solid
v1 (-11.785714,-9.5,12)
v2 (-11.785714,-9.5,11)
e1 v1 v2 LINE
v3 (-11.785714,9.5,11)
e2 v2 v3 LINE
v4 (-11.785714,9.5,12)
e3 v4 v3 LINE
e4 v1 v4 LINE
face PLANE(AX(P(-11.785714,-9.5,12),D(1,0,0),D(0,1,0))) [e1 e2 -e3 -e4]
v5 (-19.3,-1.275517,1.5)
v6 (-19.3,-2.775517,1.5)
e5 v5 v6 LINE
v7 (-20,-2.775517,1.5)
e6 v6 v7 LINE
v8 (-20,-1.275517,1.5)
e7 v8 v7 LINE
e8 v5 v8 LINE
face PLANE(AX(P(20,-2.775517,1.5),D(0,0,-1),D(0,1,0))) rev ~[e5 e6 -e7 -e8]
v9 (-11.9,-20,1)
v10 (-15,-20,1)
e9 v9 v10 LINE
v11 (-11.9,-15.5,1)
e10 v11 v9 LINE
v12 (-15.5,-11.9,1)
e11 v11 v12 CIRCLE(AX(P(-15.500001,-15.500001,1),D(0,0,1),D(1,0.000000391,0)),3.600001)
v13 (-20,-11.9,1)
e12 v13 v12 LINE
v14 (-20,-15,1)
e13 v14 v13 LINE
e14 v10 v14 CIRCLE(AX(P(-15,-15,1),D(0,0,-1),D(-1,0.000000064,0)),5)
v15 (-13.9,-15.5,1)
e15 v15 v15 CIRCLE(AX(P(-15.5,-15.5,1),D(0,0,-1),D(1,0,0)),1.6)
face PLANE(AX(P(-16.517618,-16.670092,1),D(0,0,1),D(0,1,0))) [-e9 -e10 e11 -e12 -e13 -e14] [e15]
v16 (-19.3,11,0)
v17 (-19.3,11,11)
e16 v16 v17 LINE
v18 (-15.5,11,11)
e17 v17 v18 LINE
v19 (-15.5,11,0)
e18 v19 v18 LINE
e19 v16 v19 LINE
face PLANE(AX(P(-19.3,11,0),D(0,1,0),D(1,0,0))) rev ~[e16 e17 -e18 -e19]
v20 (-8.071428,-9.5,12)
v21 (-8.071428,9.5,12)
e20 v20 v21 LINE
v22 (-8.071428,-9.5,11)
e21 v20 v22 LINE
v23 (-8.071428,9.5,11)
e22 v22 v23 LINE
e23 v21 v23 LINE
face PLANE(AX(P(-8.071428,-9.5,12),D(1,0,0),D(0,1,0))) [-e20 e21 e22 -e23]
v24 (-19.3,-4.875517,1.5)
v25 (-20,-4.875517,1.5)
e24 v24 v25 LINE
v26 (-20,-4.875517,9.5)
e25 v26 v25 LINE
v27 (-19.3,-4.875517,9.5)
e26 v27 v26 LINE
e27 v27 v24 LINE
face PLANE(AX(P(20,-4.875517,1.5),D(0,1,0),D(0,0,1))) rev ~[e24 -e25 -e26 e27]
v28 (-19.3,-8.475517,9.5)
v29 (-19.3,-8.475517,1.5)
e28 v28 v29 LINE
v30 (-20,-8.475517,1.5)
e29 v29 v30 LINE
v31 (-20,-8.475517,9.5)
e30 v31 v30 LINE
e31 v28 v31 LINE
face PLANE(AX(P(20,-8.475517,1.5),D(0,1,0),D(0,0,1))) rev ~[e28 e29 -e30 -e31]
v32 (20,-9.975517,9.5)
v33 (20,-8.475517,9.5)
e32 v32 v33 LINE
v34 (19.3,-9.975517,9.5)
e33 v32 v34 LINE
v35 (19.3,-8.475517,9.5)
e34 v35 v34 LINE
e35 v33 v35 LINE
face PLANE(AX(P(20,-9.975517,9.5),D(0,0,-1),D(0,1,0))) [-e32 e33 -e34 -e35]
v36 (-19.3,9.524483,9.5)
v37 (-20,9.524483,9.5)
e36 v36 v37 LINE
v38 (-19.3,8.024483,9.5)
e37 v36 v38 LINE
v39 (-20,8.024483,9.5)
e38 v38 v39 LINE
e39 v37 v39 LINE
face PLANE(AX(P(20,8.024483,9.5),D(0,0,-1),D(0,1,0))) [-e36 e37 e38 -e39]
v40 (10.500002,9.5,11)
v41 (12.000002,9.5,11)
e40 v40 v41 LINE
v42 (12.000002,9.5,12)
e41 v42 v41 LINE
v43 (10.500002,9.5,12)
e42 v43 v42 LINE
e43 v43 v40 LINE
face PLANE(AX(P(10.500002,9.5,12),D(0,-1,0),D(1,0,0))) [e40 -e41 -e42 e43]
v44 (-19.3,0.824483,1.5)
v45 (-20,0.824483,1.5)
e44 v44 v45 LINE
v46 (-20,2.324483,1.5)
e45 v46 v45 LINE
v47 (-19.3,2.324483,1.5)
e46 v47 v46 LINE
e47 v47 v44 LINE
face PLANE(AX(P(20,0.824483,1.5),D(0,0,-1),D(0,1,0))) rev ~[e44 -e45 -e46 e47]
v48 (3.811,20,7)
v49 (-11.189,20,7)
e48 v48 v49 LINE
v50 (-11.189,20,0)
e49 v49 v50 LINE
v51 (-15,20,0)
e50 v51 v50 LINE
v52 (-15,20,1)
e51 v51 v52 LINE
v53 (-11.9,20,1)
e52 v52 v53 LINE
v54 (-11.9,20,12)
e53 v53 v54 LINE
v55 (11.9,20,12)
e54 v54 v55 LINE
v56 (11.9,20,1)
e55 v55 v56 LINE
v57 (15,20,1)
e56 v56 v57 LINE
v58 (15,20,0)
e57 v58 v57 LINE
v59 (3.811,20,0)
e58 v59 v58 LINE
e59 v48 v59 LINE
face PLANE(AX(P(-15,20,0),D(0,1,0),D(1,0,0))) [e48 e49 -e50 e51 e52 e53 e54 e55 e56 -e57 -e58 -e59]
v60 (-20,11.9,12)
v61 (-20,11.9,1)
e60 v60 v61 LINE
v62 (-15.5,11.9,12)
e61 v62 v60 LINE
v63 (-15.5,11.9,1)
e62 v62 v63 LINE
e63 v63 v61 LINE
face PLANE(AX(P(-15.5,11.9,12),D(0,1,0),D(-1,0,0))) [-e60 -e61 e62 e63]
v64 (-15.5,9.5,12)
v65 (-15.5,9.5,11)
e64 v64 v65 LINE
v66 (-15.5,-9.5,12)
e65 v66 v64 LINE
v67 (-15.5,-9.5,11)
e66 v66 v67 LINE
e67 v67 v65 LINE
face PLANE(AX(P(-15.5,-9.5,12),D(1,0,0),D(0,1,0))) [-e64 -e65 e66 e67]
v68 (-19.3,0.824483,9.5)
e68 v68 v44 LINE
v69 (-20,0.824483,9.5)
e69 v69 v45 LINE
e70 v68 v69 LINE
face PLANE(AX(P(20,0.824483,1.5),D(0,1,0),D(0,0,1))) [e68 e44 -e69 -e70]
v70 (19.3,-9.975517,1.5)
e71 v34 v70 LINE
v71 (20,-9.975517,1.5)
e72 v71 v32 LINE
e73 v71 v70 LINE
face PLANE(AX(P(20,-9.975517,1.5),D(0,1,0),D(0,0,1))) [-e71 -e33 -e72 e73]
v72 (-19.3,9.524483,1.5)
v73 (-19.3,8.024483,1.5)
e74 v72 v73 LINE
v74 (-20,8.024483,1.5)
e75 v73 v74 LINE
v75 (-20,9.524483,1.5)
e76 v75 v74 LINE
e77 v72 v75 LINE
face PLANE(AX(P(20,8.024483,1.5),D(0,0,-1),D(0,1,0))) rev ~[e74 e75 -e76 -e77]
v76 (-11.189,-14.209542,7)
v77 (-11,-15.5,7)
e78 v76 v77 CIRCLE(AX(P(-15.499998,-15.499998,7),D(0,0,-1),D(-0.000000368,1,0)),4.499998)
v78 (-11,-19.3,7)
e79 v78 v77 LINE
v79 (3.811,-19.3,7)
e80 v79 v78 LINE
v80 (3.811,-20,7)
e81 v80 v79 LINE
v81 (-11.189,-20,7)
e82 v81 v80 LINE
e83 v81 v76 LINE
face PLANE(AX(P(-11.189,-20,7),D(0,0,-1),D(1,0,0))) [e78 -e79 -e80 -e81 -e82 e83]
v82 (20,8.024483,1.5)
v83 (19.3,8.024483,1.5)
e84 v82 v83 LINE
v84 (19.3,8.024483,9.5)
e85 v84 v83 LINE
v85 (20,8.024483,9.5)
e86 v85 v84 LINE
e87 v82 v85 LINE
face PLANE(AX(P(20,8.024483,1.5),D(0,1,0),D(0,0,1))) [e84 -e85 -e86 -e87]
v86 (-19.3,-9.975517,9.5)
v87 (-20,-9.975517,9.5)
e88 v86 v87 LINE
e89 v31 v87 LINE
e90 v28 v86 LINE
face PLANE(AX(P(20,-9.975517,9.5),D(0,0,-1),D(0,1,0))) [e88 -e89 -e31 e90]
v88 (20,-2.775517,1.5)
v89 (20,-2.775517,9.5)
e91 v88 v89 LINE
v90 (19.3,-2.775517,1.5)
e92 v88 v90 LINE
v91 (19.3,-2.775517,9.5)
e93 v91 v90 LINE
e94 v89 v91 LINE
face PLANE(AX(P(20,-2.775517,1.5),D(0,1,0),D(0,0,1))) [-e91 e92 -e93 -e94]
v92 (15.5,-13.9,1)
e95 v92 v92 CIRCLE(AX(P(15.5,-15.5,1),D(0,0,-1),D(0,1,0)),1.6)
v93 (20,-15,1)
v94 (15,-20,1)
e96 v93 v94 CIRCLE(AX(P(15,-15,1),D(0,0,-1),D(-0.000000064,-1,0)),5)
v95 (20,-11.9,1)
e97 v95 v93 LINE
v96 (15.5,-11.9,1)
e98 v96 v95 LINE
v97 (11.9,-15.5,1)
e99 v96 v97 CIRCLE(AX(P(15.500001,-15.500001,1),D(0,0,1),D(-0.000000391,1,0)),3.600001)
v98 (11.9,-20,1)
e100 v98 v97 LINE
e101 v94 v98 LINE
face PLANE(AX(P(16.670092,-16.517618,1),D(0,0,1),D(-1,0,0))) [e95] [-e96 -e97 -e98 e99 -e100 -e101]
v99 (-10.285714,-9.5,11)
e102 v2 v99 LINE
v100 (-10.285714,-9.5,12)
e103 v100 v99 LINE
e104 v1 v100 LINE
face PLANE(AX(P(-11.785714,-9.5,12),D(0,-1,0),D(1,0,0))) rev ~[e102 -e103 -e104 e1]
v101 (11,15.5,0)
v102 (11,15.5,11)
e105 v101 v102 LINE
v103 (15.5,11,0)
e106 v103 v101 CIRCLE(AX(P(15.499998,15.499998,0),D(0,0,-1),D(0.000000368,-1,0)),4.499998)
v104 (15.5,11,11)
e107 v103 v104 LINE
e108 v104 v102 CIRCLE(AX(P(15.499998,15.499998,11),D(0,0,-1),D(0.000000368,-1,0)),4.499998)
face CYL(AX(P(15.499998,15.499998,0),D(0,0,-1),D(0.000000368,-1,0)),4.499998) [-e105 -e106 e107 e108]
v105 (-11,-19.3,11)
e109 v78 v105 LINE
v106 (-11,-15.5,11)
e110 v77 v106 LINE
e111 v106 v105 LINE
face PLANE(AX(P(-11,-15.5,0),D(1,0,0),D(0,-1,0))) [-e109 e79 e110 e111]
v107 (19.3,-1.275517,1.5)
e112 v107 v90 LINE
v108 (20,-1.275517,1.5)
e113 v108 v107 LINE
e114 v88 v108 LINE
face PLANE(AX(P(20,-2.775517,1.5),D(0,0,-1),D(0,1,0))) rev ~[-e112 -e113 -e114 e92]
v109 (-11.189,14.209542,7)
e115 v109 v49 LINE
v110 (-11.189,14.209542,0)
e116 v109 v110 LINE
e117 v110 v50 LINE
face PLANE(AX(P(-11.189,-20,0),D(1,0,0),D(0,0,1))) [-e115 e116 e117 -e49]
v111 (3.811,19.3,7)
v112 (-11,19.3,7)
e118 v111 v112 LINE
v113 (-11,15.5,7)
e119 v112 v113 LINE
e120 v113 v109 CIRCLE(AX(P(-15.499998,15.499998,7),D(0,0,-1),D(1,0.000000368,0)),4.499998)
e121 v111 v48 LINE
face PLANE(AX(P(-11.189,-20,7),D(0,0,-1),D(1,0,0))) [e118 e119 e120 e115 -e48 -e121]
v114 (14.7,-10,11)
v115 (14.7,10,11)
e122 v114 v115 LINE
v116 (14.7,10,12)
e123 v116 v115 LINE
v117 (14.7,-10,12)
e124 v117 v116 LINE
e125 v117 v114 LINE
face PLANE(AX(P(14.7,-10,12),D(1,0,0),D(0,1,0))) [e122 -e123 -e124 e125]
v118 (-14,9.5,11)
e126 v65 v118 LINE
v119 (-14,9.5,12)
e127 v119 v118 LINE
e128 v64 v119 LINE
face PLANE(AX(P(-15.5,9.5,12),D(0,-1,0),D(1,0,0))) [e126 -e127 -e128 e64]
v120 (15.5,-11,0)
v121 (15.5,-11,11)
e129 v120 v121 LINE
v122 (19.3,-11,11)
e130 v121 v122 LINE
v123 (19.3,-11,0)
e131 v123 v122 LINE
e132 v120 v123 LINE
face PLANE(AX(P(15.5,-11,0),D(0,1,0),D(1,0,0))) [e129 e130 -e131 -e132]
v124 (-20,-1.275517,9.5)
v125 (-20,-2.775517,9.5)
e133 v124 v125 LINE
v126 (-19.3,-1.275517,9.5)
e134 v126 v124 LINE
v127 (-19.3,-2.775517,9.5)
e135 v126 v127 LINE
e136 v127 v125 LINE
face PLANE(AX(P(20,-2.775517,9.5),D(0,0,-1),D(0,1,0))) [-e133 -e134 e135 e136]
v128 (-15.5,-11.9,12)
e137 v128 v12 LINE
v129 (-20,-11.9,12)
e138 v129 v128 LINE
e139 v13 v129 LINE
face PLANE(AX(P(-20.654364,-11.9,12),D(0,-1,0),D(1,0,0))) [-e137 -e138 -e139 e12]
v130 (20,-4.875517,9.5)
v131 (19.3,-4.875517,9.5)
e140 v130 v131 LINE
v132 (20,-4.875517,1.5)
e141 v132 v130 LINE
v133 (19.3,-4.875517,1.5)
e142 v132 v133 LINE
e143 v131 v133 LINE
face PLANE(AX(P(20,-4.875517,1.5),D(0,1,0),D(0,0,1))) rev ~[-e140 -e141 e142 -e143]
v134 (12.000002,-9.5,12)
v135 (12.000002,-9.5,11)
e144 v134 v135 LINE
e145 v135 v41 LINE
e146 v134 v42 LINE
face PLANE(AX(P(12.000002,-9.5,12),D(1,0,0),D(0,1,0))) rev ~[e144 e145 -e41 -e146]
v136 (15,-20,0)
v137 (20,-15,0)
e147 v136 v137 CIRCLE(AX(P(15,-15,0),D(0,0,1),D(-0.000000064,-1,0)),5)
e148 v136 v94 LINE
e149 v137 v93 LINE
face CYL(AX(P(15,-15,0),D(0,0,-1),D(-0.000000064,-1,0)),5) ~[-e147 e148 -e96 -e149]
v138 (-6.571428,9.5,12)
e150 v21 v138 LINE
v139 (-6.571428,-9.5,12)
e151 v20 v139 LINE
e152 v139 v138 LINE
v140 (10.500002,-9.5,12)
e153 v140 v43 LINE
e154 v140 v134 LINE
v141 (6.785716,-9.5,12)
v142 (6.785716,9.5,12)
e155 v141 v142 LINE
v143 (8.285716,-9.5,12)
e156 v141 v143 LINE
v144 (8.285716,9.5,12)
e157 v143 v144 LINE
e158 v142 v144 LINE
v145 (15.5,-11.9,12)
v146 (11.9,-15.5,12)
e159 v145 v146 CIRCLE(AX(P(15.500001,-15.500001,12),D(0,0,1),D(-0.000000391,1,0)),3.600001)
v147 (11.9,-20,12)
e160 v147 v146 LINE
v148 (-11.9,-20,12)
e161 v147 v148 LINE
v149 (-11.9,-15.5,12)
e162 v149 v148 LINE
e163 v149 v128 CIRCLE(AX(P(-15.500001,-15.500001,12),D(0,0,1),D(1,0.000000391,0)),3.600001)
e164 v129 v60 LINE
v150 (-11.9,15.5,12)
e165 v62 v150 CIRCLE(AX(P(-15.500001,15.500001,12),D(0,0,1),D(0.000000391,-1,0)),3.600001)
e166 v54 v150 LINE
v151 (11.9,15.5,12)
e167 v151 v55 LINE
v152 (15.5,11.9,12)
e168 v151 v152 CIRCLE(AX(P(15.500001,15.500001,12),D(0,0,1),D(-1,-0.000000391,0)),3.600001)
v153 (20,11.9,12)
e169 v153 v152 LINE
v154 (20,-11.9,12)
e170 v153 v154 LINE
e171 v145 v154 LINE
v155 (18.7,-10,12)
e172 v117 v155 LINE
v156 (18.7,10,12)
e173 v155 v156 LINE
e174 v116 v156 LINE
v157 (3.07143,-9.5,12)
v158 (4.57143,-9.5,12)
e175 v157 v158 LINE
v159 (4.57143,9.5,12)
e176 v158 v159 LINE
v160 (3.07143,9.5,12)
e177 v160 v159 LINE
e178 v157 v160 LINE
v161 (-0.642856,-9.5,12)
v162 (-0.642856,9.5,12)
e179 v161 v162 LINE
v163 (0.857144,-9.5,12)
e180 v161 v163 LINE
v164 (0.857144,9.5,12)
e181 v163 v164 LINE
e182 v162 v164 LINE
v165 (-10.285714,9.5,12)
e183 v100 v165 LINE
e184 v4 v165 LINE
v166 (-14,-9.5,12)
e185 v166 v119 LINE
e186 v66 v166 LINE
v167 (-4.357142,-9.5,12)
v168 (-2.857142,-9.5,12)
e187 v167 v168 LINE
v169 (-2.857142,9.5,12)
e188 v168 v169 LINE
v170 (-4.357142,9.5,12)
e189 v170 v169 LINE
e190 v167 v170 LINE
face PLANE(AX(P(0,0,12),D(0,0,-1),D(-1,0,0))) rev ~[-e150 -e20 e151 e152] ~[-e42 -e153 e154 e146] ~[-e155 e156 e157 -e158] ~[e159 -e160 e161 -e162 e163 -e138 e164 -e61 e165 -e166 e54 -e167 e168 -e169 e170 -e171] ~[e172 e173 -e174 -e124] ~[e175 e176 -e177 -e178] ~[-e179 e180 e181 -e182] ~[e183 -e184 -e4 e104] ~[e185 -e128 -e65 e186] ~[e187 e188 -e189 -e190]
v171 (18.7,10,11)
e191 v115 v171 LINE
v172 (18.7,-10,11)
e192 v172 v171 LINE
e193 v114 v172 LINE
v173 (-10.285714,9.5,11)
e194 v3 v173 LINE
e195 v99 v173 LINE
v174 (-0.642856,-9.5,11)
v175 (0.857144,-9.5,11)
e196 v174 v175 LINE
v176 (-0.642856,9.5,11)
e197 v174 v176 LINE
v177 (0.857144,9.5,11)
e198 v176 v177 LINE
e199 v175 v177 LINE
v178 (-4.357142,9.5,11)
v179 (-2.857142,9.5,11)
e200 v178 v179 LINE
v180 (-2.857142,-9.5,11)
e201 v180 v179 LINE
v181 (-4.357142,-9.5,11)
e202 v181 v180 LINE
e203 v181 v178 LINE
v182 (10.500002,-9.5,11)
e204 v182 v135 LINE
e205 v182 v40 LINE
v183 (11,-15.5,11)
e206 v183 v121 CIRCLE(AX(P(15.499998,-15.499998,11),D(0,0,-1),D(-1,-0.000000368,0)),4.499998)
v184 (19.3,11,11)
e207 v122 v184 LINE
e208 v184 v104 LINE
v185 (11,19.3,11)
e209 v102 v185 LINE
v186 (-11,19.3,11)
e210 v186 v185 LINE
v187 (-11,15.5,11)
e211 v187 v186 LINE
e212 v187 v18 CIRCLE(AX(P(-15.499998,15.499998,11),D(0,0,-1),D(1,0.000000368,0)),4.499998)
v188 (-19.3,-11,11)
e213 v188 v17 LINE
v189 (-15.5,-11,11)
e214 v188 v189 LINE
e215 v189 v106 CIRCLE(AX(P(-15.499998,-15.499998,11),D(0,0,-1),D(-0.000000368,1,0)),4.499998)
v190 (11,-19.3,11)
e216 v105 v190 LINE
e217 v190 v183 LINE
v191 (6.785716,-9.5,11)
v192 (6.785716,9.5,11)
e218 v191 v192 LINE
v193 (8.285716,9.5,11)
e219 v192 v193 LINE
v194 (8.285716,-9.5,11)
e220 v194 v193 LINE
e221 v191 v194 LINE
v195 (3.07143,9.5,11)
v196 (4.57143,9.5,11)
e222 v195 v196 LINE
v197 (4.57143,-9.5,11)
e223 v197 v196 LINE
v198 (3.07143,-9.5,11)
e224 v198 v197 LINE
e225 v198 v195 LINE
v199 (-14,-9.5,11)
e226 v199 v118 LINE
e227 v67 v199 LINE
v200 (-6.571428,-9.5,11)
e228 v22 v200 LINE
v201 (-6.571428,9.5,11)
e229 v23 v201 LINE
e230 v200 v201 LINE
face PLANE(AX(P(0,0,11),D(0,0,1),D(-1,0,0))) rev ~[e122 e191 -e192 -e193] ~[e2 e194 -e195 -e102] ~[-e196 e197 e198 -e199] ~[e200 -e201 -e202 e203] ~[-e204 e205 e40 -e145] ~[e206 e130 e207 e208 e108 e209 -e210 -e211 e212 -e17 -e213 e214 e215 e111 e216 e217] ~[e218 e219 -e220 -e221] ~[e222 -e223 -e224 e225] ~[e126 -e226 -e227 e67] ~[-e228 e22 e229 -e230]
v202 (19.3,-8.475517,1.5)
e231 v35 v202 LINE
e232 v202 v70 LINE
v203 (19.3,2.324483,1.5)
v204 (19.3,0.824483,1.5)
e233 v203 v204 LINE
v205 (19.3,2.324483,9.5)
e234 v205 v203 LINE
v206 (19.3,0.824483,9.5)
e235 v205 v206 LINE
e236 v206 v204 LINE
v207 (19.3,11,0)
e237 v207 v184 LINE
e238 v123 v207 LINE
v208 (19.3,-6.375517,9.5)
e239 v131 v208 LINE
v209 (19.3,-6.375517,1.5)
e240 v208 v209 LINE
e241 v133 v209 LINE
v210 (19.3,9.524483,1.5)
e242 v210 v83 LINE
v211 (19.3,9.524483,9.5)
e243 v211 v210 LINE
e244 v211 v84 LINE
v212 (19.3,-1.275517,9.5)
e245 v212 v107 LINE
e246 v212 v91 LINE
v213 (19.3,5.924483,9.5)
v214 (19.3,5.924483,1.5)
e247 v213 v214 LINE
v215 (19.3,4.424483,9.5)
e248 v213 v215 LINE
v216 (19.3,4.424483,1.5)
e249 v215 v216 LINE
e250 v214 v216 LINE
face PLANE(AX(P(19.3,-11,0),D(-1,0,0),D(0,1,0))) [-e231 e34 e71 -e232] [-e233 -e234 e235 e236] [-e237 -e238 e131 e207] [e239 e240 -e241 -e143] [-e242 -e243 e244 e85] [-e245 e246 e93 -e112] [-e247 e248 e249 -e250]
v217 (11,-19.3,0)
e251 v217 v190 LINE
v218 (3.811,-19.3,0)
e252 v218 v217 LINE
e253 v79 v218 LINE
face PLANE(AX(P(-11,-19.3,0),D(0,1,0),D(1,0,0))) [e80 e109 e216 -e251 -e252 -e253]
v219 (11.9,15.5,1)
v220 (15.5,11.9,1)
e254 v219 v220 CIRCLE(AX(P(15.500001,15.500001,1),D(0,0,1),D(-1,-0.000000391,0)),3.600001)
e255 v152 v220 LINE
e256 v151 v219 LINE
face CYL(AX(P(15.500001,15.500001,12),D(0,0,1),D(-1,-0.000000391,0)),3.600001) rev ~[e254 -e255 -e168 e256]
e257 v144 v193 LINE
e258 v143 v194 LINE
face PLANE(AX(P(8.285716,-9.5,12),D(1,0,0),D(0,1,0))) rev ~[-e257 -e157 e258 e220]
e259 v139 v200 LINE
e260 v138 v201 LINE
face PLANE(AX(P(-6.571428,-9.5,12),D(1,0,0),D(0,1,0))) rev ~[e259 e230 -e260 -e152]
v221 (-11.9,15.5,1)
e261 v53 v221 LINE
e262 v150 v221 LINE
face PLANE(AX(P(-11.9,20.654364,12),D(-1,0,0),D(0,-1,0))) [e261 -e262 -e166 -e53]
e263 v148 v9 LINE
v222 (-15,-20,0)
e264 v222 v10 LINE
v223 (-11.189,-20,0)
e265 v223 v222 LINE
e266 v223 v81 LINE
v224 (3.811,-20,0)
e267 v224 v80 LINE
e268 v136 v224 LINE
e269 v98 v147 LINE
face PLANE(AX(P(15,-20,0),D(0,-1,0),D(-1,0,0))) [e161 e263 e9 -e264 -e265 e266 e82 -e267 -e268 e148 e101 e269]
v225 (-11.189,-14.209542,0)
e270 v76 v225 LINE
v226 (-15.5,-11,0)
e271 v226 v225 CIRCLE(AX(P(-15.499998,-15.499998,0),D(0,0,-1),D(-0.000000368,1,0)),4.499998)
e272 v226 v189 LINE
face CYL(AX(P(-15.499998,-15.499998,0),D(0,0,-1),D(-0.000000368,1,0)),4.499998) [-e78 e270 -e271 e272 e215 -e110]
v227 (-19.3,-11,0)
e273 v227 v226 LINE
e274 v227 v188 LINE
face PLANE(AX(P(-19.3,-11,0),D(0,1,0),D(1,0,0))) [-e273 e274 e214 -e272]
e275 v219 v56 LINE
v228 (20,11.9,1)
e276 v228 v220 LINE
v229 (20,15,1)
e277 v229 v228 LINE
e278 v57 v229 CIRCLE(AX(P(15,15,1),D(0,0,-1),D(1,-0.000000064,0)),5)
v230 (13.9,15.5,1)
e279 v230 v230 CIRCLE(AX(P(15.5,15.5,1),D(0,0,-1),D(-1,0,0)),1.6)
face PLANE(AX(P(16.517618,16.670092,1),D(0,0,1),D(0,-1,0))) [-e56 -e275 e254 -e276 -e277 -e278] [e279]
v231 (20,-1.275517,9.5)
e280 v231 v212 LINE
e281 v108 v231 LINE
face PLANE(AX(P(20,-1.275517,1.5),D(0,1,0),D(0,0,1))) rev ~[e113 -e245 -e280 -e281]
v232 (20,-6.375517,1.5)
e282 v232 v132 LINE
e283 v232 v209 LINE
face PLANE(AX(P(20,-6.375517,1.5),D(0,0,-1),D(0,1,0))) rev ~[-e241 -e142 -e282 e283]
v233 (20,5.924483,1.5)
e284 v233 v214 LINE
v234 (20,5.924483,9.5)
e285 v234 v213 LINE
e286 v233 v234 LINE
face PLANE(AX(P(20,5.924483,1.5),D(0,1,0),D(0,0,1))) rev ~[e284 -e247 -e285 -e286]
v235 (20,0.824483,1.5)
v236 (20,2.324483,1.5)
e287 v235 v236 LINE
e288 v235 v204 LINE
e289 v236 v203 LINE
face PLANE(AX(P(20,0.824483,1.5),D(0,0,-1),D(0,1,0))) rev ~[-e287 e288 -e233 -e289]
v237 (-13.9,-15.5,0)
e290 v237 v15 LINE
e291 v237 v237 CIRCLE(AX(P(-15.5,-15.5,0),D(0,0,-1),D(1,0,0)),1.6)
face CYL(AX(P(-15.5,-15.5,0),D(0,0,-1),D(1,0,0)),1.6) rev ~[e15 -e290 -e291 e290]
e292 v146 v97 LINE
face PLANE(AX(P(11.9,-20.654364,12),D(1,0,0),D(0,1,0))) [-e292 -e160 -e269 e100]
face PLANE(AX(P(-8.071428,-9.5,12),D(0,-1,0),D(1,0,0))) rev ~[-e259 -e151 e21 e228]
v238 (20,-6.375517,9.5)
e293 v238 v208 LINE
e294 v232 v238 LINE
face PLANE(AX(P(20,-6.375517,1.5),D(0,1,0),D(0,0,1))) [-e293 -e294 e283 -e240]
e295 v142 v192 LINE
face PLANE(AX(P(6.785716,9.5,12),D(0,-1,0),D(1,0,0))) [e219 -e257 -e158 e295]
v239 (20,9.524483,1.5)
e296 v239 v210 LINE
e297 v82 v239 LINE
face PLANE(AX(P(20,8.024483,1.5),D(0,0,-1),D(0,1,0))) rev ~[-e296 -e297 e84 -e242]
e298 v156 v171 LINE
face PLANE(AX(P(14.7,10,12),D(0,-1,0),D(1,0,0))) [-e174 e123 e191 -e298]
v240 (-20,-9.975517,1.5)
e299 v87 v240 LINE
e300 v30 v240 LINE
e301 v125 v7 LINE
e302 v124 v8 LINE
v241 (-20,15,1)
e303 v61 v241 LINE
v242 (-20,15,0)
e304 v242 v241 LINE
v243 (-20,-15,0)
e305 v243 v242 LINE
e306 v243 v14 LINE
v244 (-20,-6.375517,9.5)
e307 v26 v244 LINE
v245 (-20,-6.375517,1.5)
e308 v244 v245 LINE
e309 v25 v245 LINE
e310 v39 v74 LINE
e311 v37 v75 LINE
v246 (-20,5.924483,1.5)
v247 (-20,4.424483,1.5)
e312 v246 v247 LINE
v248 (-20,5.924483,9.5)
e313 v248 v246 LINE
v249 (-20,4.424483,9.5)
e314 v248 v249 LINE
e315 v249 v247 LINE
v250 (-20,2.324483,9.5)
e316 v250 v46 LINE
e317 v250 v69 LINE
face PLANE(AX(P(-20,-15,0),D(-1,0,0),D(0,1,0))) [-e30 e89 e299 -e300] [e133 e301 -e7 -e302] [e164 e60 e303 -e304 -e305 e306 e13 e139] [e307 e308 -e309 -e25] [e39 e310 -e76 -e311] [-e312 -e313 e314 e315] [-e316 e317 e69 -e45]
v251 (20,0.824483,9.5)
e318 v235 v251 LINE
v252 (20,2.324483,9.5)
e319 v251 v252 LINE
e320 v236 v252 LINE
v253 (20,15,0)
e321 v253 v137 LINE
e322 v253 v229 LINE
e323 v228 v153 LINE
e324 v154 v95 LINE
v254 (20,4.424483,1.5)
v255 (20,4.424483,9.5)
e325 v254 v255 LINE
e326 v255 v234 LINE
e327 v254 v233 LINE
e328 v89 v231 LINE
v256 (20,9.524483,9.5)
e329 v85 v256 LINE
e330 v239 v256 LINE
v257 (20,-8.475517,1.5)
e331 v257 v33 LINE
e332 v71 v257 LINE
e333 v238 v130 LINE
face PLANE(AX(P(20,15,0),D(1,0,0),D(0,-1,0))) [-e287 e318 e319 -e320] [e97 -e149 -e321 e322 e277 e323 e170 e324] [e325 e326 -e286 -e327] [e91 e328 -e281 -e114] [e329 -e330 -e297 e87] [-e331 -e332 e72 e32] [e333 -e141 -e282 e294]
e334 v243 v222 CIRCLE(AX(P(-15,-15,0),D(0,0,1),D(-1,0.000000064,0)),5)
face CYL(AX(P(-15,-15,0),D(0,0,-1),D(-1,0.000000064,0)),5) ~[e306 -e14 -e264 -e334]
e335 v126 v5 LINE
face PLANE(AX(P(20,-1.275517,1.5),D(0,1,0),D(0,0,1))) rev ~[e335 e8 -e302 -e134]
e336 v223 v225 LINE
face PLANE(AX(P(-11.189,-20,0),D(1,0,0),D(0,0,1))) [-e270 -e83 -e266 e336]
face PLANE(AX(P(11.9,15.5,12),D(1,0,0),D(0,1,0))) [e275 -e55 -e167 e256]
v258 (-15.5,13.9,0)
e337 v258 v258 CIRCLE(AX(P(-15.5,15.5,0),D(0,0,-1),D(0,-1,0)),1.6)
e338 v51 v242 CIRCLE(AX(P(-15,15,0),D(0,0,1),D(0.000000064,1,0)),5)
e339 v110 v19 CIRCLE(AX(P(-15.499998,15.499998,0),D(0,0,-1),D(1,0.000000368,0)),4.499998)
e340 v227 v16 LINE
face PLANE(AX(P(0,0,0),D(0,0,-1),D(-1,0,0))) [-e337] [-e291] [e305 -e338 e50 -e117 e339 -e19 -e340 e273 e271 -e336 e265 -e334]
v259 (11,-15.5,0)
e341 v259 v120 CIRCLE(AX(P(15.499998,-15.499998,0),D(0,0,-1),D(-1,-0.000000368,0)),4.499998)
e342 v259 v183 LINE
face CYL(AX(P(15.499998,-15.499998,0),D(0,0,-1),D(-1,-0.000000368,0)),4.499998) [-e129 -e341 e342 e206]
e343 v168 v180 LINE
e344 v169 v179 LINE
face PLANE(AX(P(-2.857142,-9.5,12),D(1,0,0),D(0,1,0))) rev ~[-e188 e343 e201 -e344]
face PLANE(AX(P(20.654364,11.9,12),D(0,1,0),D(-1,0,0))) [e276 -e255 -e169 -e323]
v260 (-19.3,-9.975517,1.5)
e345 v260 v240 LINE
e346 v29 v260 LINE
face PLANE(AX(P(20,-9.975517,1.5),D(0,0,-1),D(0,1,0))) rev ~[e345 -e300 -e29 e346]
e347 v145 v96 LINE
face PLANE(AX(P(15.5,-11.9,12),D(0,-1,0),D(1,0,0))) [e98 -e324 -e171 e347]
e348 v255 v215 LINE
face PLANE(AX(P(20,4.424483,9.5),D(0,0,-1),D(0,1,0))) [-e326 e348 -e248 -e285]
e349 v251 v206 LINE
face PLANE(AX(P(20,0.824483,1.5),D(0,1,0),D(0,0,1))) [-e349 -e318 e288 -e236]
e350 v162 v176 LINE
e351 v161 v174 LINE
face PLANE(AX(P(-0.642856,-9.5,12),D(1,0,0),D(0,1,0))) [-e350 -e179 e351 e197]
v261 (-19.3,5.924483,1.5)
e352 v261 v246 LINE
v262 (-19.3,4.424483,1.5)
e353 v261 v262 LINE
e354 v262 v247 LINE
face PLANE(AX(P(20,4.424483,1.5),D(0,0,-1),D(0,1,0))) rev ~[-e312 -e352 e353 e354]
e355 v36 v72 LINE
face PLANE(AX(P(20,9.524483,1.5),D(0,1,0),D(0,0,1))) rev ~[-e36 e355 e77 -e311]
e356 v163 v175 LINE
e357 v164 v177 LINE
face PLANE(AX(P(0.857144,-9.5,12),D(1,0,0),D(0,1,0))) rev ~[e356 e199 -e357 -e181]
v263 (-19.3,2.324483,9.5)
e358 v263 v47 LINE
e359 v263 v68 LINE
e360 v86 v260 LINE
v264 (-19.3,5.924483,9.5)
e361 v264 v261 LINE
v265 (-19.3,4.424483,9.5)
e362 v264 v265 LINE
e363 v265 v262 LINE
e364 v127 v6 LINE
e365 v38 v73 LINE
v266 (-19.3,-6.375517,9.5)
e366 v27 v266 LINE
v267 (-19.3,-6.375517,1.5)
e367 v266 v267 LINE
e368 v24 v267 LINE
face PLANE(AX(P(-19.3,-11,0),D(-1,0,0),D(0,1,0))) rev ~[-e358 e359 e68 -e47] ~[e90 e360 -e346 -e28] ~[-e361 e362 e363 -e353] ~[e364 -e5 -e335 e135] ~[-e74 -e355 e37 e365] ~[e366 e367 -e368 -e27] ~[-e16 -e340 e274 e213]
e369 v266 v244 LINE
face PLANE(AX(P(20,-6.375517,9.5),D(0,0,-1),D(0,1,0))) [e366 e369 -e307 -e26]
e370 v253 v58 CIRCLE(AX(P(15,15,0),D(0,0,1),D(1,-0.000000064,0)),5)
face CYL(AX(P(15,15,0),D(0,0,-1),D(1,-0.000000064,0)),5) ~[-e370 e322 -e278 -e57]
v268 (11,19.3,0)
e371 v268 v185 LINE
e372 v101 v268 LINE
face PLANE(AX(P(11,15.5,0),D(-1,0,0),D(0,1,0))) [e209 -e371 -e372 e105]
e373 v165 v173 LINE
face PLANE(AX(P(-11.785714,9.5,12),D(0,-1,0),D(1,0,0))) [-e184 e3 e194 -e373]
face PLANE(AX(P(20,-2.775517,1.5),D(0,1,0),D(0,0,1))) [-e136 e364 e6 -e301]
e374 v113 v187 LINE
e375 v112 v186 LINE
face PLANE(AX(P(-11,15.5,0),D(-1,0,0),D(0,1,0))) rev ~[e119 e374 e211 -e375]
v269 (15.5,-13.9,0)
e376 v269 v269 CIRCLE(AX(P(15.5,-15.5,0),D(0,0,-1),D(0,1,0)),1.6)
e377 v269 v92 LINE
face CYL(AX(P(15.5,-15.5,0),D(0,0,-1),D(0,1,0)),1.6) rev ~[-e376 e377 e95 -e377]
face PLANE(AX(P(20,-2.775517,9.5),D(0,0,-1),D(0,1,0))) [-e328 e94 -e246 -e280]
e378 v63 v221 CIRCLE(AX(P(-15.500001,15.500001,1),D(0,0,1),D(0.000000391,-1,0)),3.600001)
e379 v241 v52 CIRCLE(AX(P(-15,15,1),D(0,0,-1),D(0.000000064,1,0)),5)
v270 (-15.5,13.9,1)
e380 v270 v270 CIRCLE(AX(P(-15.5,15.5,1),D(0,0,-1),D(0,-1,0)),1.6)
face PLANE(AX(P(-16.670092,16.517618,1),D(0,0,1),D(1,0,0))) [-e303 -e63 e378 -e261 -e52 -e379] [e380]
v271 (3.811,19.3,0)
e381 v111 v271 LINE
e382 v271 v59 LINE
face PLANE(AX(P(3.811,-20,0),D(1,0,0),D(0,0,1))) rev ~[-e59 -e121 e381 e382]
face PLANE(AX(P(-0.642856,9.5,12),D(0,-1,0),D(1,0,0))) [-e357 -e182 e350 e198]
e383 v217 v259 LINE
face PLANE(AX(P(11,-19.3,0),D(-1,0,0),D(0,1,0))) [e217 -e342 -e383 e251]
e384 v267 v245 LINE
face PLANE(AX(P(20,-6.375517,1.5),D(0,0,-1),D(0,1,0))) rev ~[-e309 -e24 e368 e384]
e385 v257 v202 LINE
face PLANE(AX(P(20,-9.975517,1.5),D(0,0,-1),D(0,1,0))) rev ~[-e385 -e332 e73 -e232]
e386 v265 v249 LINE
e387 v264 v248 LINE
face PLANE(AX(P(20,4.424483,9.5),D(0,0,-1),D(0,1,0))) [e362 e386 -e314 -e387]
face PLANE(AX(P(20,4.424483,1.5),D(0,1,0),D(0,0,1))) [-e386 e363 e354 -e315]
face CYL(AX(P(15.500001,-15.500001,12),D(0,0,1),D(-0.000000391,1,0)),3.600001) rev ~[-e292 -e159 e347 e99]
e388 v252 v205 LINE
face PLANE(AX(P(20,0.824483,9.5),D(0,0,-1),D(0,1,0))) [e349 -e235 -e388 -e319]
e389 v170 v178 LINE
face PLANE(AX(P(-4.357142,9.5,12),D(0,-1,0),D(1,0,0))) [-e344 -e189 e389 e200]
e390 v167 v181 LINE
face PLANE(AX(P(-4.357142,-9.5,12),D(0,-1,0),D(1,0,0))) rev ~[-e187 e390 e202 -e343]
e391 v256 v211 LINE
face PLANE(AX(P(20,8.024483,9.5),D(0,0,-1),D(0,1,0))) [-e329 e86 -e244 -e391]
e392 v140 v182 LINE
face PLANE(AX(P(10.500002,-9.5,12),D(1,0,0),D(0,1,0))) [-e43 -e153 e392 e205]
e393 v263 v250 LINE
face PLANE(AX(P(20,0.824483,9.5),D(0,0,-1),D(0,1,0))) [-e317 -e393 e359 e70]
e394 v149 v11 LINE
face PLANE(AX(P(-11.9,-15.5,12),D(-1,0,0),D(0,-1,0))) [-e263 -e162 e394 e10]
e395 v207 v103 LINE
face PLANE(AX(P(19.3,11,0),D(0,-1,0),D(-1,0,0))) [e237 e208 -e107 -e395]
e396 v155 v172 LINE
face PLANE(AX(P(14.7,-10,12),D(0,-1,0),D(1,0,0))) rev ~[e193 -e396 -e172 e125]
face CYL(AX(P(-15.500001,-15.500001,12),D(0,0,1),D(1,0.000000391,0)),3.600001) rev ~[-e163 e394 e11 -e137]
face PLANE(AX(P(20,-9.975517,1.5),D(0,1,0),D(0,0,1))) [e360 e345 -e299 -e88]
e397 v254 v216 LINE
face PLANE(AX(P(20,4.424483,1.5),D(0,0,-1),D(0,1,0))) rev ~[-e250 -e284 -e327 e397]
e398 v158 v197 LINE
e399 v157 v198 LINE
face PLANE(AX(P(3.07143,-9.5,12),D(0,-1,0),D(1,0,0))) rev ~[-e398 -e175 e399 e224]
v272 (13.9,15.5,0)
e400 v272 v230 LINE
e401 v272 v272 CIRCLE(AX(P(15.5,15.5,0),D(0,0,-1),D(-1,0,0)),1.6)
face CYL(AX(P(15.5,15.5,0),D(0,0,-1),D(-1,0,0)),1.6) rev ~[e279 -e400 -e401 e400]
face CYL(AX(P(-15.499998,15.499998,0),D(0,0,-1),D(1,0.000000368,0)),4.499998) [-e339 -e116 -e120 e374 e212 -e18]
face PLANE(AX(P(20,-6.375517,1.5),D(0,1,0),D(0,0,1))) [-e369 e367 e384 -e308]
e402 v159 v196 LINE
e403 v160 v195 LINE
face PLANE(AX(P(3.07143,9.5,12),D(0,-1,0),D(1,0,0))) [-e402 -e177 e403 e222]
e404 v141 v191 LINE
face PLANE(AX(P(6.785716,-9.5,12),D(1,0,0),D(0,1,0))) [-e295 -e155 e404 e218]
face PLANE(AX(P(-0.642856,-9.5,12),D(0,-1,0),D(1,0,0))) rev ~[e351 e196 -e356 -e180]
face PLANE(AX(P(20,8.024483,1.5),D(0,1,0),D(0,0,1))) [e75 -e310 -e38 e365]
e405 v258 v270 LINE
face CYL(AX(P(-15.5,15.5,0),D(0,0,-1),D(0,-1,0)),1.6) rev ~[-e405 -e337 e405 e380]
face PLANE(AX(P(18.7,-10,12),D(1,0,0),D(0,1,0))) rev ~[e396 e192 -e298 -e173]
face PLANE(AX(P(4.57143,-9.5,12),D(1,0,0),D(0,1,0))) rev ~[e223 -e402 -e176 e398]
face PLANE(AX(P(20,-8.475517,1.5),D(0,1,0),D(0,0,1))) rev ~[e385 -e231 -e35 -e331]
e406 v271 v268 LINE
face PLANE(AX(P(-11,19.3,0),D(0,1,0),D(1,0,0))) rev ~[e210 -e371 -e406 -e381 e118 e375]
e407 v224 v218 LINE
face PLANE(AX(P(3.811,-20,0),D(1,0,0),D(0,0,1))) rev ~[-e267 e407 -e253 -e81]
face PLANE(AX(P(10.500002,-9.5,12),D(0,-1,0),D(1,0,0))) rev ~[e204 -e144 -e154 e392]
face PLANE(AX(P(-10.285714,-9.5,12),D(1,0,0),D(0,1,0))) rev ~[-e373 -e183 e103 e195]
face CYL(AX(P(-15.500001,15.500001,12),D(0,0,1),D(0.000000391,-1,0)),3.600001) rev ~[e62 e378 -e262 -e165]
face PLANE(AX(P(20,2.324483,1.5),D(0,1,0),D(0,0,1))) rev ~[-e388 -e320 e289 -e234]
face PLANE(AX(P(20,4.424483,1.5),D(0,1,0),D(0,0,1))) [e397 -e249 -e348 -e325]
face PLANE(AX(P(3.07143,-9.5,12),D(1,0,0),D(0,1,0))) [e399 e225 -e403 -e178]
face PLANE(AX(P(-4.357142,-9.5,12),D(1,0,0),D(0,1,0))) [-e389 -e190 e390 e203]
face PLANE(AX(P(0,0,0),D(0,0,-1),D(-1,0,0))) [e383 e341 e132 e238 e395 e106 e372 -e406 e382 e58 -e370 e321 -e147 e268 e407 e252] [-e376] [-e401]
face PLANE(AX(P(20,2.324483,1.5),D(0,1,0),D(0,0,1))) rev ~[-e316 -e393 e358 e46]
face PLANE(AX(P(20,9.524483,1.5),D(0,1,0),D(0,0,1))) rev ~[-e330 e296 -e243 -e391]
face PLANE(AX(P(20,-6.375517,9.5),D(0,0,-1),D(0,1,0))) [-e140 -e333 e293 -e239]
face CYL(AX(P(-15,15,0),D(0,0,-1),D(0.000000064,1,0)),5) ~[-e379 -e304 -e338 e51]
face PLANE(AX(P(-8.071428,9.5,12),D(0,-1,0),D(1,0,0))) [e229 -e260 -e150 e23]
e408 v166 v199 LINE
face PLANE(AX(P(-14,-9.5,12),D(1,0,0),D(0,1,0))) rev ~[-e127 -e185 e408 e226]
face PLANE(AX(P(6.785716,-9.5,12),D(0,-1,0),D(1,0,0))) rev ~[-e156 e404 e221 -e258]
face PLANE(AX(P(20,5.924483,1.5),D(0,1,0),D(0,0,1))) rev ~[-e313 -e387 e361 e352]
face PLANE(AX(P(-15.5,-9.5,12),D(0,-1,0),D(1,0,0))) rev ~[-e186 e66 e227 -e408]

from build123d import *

# Parameters (mm, degrees)
PAD_DEPTH              = 12
POCKET_DEPTH           = 11
POCKET001_DEPTH        = 11
POLARPATTERN_COUNT     = 4
SKETCH003_R            = 1.6
POCKET002_DEPTH        = 127.655658
POLARPATTERN001_COUNT  = 4
SKETCH004_W            = 4
SKETCH004_H            = 20
POCKET003_DEPTH        = 12.001
SKETCH005_W            = 15
SKETCH005_H            = 7
POCKET004_DEPTH        = 40.001
SKETCH006_W            = 1.5
SKETCH006_H            = 8
POCKET005_DEPTH        = 40.001
LINEARPATTERN_COUNT    = 6
LINEARPATTERN_PITCH    = 3.6
SKETCH007_W            = 1.5
SKETCH007_H            = 19
POCKET006_DEPTH        = 12.001
LINEARPATTERN001_COUNT = 8
LINEARPATTERN001_PITCH = 3.714286


with BuildPart() as part:
    # Sketch → Pad (new body)
    with BuildSketch(Plane.XY):
        with BuildLine():
            Line((-15, 20), (15, 20))
            ThreePointArc((20, 15), (18.535534, 18.535534), (15, 20))
            Line((20, 15), (20, -15))
            ThreePointArc((15, -20), (18.535534, -18.535534), (20, -15))
            Line((15, -20), (-15, -20))
            ThreePointArc((-20, -15), (-18.535534, -18.535534), (-15, -20))
            Line((-20, -15), (-20, 15))
            ThreePointArc((-15, 20), (-18.535534, 18.535534), (-20, 15))
        make_face()
    extrude(amount=PAD_DEPTH)

    # Sketch001 (on Face9 of Pad) → Pocket (cut)
    with BuildSketch(Plane(origin=(0, 0, 0), x_dir=(1, 0, 0), z_dir=(0, 0, -1))):
        with BuildLine():
            ThreePointArc((-15.5, 11), (-12.318019, 12.318019), (-11, 15.5))
            Line((-11, 15.5), (-11, 19.3))
            Line((-11, 19.3), (11, 19.3))
            Line((11, 19.3), (11, 15.5))
            ThreePointArc((11, 15.5), (12.318019, 12.318019), (15.5, 11))
            Line((15.5, 11), (19.3, 11))
            Line((19.3, 11), (19.3, -11))
            Line((19.3, -11), (15.5, -11))
            ThreePointArc((15.5, -11), (12.318019, -12.318019), (11, -15.5))
            Line((11, -15.5), (11, -19.3))
            Line((-11, -19.3), (11, -19.3))
            Line((-11, -15.5), (-11, -19.3))
            ThreePointArc((-11, -15.5), (-12.318019, -12.318019), (-15.5, -11))
            Line((-19.3, -11), (-15.5, -11))
            Line((-19.3, 11), (-19.3, -11))
            Line((-19.3, 11), (-15.5, 11))
        make_face()
    extrude(amount=-POCKET_DEPTH, mode=Mode.SUBTRACT)

    # Sketch002 (on Face5 of Pocket) → Pocket001 (cut)
    with BuildSketch(Plane.XY.offset(12)):
        with BuildLine():
            ThreePointArc((-15.5, 11.9), (-12.954416, 12.954416), (-11.9, 15.5))
            Line((-11.9, 20.654364), (-11.9, 15.5))
            Line((-20.945524, 20.654364), (-11.9, 20.654364))
            Line((-20.945524, 11.9), (-20.945524, 20.654364))
            Line((-15.5, 11.9), (-20.945524, 11.9))
        make_face()
    pocket001 = extrude(amount=-POCKET001_DEPTH, mode=Mode.SUBTRACT)

    # PolarPattern: Pocket001 ×4 about axis
    polarpattern_axis = Axis((0, 0, 12), (0, 0, 1))
    for i in range(1, POLARPATTERN_COUNT):
        add(pocket001.rotate(polarpattern_axis, i * 360 / POLARPATTERN_COUNT), mode=Mode.SUBTRACT)

    # Sketch003 (on Face2 of PolarPattern) → Pocket002 (cut, through all)
    with BuildSketch(Plane(origin=(0, 0, 0), x_dir=(1, 0, 0), z_dir=(0, 0, -1))):
        with Locations((-15.5, 15.5)):
            Circle(SKETCH003_R)
    pocket002 = extrude(amount=-POCKET002_DEPTH, mode=Mode.SUBTRACT)

    # PolarPattern001: Pocket002 ×4 about axis
    polarpattern001_axis = Axis((0, 0, 0), (0, 0, -1))
    for i in range(1, POLARPATTERN001_COUNT):
        add(pocket002.rotate(polarpattern001_axis, i * 360 / POLARPATTERN001_COUNT), mode=Mode.SUBTRACT)

    # Sketch004 (on Face6 of PolarPattern001) → Pocket003 (cut, through all)
    with BuildSketch(Plane.XY.offset(12)):
        with Locations((16.7, 0)):
            Rectangle(SKETCH004_W, SKETCH004_H)
    extrude(amount=-POCKET003_DEPTH, mode=Mode.SUBTRACT)

    # Sketch005 (on Face10 of Pocket003) → Pocket004 (cut, through all)
    with BuildSketch(Plane.XZ.offset(20)):
        with Locations((-3.689, 3.5)):
            Rectangle(SKETCH005_W, SKETCH005_H)
    extrude(amount=-POCKET004_DEPTH, mode=Mode.SUBTRACT)

    # Sketch006 (on Face31 of Pocket004) → Pocket005 (cut, through all)
    with BuildSketch(Plane.YZ.offset(20)):
        with Locations((-9.225517, 5.5)):
            Rectangle(SKETCH006_W, SKETCH006_H)
    pocket005 = extrude(amount=-POCKET005_DEPTH, mode=Mode.SUBTRACT)

    # LinearPattern: Pocket005 ×6
    with Locations(*[(0, i * LINEARPATTERN_PITCH, 0) for i in range(1, LINEARPATTERN_COUNT)]):
        add(pocket005, mode=Mode.SUBTRACT)

    # Sketch007 (on Face9 of LinearPattern) → Pocket006 (cut, through all)
    with BuildSketch(Plane.XY.offset(12)):
        with Locations((-14.75, 0)):
            Rectangle(SKETCH007_W, SKETCH007_H)
    pocket006 = extrude(amount=-POCKET006_DEPTH, mode=Mode.SUBTRACT)

    # LinearPattern001: Pocket006 ×8
    with Locations(*[(i * LINEARPATTERN001_PITCH, 0, 0) for i in range(1, LINEARPATTERN001_COUNT)]):
        add(pocket006, mode=Mode.SUBTRACT)


solid = part.part
